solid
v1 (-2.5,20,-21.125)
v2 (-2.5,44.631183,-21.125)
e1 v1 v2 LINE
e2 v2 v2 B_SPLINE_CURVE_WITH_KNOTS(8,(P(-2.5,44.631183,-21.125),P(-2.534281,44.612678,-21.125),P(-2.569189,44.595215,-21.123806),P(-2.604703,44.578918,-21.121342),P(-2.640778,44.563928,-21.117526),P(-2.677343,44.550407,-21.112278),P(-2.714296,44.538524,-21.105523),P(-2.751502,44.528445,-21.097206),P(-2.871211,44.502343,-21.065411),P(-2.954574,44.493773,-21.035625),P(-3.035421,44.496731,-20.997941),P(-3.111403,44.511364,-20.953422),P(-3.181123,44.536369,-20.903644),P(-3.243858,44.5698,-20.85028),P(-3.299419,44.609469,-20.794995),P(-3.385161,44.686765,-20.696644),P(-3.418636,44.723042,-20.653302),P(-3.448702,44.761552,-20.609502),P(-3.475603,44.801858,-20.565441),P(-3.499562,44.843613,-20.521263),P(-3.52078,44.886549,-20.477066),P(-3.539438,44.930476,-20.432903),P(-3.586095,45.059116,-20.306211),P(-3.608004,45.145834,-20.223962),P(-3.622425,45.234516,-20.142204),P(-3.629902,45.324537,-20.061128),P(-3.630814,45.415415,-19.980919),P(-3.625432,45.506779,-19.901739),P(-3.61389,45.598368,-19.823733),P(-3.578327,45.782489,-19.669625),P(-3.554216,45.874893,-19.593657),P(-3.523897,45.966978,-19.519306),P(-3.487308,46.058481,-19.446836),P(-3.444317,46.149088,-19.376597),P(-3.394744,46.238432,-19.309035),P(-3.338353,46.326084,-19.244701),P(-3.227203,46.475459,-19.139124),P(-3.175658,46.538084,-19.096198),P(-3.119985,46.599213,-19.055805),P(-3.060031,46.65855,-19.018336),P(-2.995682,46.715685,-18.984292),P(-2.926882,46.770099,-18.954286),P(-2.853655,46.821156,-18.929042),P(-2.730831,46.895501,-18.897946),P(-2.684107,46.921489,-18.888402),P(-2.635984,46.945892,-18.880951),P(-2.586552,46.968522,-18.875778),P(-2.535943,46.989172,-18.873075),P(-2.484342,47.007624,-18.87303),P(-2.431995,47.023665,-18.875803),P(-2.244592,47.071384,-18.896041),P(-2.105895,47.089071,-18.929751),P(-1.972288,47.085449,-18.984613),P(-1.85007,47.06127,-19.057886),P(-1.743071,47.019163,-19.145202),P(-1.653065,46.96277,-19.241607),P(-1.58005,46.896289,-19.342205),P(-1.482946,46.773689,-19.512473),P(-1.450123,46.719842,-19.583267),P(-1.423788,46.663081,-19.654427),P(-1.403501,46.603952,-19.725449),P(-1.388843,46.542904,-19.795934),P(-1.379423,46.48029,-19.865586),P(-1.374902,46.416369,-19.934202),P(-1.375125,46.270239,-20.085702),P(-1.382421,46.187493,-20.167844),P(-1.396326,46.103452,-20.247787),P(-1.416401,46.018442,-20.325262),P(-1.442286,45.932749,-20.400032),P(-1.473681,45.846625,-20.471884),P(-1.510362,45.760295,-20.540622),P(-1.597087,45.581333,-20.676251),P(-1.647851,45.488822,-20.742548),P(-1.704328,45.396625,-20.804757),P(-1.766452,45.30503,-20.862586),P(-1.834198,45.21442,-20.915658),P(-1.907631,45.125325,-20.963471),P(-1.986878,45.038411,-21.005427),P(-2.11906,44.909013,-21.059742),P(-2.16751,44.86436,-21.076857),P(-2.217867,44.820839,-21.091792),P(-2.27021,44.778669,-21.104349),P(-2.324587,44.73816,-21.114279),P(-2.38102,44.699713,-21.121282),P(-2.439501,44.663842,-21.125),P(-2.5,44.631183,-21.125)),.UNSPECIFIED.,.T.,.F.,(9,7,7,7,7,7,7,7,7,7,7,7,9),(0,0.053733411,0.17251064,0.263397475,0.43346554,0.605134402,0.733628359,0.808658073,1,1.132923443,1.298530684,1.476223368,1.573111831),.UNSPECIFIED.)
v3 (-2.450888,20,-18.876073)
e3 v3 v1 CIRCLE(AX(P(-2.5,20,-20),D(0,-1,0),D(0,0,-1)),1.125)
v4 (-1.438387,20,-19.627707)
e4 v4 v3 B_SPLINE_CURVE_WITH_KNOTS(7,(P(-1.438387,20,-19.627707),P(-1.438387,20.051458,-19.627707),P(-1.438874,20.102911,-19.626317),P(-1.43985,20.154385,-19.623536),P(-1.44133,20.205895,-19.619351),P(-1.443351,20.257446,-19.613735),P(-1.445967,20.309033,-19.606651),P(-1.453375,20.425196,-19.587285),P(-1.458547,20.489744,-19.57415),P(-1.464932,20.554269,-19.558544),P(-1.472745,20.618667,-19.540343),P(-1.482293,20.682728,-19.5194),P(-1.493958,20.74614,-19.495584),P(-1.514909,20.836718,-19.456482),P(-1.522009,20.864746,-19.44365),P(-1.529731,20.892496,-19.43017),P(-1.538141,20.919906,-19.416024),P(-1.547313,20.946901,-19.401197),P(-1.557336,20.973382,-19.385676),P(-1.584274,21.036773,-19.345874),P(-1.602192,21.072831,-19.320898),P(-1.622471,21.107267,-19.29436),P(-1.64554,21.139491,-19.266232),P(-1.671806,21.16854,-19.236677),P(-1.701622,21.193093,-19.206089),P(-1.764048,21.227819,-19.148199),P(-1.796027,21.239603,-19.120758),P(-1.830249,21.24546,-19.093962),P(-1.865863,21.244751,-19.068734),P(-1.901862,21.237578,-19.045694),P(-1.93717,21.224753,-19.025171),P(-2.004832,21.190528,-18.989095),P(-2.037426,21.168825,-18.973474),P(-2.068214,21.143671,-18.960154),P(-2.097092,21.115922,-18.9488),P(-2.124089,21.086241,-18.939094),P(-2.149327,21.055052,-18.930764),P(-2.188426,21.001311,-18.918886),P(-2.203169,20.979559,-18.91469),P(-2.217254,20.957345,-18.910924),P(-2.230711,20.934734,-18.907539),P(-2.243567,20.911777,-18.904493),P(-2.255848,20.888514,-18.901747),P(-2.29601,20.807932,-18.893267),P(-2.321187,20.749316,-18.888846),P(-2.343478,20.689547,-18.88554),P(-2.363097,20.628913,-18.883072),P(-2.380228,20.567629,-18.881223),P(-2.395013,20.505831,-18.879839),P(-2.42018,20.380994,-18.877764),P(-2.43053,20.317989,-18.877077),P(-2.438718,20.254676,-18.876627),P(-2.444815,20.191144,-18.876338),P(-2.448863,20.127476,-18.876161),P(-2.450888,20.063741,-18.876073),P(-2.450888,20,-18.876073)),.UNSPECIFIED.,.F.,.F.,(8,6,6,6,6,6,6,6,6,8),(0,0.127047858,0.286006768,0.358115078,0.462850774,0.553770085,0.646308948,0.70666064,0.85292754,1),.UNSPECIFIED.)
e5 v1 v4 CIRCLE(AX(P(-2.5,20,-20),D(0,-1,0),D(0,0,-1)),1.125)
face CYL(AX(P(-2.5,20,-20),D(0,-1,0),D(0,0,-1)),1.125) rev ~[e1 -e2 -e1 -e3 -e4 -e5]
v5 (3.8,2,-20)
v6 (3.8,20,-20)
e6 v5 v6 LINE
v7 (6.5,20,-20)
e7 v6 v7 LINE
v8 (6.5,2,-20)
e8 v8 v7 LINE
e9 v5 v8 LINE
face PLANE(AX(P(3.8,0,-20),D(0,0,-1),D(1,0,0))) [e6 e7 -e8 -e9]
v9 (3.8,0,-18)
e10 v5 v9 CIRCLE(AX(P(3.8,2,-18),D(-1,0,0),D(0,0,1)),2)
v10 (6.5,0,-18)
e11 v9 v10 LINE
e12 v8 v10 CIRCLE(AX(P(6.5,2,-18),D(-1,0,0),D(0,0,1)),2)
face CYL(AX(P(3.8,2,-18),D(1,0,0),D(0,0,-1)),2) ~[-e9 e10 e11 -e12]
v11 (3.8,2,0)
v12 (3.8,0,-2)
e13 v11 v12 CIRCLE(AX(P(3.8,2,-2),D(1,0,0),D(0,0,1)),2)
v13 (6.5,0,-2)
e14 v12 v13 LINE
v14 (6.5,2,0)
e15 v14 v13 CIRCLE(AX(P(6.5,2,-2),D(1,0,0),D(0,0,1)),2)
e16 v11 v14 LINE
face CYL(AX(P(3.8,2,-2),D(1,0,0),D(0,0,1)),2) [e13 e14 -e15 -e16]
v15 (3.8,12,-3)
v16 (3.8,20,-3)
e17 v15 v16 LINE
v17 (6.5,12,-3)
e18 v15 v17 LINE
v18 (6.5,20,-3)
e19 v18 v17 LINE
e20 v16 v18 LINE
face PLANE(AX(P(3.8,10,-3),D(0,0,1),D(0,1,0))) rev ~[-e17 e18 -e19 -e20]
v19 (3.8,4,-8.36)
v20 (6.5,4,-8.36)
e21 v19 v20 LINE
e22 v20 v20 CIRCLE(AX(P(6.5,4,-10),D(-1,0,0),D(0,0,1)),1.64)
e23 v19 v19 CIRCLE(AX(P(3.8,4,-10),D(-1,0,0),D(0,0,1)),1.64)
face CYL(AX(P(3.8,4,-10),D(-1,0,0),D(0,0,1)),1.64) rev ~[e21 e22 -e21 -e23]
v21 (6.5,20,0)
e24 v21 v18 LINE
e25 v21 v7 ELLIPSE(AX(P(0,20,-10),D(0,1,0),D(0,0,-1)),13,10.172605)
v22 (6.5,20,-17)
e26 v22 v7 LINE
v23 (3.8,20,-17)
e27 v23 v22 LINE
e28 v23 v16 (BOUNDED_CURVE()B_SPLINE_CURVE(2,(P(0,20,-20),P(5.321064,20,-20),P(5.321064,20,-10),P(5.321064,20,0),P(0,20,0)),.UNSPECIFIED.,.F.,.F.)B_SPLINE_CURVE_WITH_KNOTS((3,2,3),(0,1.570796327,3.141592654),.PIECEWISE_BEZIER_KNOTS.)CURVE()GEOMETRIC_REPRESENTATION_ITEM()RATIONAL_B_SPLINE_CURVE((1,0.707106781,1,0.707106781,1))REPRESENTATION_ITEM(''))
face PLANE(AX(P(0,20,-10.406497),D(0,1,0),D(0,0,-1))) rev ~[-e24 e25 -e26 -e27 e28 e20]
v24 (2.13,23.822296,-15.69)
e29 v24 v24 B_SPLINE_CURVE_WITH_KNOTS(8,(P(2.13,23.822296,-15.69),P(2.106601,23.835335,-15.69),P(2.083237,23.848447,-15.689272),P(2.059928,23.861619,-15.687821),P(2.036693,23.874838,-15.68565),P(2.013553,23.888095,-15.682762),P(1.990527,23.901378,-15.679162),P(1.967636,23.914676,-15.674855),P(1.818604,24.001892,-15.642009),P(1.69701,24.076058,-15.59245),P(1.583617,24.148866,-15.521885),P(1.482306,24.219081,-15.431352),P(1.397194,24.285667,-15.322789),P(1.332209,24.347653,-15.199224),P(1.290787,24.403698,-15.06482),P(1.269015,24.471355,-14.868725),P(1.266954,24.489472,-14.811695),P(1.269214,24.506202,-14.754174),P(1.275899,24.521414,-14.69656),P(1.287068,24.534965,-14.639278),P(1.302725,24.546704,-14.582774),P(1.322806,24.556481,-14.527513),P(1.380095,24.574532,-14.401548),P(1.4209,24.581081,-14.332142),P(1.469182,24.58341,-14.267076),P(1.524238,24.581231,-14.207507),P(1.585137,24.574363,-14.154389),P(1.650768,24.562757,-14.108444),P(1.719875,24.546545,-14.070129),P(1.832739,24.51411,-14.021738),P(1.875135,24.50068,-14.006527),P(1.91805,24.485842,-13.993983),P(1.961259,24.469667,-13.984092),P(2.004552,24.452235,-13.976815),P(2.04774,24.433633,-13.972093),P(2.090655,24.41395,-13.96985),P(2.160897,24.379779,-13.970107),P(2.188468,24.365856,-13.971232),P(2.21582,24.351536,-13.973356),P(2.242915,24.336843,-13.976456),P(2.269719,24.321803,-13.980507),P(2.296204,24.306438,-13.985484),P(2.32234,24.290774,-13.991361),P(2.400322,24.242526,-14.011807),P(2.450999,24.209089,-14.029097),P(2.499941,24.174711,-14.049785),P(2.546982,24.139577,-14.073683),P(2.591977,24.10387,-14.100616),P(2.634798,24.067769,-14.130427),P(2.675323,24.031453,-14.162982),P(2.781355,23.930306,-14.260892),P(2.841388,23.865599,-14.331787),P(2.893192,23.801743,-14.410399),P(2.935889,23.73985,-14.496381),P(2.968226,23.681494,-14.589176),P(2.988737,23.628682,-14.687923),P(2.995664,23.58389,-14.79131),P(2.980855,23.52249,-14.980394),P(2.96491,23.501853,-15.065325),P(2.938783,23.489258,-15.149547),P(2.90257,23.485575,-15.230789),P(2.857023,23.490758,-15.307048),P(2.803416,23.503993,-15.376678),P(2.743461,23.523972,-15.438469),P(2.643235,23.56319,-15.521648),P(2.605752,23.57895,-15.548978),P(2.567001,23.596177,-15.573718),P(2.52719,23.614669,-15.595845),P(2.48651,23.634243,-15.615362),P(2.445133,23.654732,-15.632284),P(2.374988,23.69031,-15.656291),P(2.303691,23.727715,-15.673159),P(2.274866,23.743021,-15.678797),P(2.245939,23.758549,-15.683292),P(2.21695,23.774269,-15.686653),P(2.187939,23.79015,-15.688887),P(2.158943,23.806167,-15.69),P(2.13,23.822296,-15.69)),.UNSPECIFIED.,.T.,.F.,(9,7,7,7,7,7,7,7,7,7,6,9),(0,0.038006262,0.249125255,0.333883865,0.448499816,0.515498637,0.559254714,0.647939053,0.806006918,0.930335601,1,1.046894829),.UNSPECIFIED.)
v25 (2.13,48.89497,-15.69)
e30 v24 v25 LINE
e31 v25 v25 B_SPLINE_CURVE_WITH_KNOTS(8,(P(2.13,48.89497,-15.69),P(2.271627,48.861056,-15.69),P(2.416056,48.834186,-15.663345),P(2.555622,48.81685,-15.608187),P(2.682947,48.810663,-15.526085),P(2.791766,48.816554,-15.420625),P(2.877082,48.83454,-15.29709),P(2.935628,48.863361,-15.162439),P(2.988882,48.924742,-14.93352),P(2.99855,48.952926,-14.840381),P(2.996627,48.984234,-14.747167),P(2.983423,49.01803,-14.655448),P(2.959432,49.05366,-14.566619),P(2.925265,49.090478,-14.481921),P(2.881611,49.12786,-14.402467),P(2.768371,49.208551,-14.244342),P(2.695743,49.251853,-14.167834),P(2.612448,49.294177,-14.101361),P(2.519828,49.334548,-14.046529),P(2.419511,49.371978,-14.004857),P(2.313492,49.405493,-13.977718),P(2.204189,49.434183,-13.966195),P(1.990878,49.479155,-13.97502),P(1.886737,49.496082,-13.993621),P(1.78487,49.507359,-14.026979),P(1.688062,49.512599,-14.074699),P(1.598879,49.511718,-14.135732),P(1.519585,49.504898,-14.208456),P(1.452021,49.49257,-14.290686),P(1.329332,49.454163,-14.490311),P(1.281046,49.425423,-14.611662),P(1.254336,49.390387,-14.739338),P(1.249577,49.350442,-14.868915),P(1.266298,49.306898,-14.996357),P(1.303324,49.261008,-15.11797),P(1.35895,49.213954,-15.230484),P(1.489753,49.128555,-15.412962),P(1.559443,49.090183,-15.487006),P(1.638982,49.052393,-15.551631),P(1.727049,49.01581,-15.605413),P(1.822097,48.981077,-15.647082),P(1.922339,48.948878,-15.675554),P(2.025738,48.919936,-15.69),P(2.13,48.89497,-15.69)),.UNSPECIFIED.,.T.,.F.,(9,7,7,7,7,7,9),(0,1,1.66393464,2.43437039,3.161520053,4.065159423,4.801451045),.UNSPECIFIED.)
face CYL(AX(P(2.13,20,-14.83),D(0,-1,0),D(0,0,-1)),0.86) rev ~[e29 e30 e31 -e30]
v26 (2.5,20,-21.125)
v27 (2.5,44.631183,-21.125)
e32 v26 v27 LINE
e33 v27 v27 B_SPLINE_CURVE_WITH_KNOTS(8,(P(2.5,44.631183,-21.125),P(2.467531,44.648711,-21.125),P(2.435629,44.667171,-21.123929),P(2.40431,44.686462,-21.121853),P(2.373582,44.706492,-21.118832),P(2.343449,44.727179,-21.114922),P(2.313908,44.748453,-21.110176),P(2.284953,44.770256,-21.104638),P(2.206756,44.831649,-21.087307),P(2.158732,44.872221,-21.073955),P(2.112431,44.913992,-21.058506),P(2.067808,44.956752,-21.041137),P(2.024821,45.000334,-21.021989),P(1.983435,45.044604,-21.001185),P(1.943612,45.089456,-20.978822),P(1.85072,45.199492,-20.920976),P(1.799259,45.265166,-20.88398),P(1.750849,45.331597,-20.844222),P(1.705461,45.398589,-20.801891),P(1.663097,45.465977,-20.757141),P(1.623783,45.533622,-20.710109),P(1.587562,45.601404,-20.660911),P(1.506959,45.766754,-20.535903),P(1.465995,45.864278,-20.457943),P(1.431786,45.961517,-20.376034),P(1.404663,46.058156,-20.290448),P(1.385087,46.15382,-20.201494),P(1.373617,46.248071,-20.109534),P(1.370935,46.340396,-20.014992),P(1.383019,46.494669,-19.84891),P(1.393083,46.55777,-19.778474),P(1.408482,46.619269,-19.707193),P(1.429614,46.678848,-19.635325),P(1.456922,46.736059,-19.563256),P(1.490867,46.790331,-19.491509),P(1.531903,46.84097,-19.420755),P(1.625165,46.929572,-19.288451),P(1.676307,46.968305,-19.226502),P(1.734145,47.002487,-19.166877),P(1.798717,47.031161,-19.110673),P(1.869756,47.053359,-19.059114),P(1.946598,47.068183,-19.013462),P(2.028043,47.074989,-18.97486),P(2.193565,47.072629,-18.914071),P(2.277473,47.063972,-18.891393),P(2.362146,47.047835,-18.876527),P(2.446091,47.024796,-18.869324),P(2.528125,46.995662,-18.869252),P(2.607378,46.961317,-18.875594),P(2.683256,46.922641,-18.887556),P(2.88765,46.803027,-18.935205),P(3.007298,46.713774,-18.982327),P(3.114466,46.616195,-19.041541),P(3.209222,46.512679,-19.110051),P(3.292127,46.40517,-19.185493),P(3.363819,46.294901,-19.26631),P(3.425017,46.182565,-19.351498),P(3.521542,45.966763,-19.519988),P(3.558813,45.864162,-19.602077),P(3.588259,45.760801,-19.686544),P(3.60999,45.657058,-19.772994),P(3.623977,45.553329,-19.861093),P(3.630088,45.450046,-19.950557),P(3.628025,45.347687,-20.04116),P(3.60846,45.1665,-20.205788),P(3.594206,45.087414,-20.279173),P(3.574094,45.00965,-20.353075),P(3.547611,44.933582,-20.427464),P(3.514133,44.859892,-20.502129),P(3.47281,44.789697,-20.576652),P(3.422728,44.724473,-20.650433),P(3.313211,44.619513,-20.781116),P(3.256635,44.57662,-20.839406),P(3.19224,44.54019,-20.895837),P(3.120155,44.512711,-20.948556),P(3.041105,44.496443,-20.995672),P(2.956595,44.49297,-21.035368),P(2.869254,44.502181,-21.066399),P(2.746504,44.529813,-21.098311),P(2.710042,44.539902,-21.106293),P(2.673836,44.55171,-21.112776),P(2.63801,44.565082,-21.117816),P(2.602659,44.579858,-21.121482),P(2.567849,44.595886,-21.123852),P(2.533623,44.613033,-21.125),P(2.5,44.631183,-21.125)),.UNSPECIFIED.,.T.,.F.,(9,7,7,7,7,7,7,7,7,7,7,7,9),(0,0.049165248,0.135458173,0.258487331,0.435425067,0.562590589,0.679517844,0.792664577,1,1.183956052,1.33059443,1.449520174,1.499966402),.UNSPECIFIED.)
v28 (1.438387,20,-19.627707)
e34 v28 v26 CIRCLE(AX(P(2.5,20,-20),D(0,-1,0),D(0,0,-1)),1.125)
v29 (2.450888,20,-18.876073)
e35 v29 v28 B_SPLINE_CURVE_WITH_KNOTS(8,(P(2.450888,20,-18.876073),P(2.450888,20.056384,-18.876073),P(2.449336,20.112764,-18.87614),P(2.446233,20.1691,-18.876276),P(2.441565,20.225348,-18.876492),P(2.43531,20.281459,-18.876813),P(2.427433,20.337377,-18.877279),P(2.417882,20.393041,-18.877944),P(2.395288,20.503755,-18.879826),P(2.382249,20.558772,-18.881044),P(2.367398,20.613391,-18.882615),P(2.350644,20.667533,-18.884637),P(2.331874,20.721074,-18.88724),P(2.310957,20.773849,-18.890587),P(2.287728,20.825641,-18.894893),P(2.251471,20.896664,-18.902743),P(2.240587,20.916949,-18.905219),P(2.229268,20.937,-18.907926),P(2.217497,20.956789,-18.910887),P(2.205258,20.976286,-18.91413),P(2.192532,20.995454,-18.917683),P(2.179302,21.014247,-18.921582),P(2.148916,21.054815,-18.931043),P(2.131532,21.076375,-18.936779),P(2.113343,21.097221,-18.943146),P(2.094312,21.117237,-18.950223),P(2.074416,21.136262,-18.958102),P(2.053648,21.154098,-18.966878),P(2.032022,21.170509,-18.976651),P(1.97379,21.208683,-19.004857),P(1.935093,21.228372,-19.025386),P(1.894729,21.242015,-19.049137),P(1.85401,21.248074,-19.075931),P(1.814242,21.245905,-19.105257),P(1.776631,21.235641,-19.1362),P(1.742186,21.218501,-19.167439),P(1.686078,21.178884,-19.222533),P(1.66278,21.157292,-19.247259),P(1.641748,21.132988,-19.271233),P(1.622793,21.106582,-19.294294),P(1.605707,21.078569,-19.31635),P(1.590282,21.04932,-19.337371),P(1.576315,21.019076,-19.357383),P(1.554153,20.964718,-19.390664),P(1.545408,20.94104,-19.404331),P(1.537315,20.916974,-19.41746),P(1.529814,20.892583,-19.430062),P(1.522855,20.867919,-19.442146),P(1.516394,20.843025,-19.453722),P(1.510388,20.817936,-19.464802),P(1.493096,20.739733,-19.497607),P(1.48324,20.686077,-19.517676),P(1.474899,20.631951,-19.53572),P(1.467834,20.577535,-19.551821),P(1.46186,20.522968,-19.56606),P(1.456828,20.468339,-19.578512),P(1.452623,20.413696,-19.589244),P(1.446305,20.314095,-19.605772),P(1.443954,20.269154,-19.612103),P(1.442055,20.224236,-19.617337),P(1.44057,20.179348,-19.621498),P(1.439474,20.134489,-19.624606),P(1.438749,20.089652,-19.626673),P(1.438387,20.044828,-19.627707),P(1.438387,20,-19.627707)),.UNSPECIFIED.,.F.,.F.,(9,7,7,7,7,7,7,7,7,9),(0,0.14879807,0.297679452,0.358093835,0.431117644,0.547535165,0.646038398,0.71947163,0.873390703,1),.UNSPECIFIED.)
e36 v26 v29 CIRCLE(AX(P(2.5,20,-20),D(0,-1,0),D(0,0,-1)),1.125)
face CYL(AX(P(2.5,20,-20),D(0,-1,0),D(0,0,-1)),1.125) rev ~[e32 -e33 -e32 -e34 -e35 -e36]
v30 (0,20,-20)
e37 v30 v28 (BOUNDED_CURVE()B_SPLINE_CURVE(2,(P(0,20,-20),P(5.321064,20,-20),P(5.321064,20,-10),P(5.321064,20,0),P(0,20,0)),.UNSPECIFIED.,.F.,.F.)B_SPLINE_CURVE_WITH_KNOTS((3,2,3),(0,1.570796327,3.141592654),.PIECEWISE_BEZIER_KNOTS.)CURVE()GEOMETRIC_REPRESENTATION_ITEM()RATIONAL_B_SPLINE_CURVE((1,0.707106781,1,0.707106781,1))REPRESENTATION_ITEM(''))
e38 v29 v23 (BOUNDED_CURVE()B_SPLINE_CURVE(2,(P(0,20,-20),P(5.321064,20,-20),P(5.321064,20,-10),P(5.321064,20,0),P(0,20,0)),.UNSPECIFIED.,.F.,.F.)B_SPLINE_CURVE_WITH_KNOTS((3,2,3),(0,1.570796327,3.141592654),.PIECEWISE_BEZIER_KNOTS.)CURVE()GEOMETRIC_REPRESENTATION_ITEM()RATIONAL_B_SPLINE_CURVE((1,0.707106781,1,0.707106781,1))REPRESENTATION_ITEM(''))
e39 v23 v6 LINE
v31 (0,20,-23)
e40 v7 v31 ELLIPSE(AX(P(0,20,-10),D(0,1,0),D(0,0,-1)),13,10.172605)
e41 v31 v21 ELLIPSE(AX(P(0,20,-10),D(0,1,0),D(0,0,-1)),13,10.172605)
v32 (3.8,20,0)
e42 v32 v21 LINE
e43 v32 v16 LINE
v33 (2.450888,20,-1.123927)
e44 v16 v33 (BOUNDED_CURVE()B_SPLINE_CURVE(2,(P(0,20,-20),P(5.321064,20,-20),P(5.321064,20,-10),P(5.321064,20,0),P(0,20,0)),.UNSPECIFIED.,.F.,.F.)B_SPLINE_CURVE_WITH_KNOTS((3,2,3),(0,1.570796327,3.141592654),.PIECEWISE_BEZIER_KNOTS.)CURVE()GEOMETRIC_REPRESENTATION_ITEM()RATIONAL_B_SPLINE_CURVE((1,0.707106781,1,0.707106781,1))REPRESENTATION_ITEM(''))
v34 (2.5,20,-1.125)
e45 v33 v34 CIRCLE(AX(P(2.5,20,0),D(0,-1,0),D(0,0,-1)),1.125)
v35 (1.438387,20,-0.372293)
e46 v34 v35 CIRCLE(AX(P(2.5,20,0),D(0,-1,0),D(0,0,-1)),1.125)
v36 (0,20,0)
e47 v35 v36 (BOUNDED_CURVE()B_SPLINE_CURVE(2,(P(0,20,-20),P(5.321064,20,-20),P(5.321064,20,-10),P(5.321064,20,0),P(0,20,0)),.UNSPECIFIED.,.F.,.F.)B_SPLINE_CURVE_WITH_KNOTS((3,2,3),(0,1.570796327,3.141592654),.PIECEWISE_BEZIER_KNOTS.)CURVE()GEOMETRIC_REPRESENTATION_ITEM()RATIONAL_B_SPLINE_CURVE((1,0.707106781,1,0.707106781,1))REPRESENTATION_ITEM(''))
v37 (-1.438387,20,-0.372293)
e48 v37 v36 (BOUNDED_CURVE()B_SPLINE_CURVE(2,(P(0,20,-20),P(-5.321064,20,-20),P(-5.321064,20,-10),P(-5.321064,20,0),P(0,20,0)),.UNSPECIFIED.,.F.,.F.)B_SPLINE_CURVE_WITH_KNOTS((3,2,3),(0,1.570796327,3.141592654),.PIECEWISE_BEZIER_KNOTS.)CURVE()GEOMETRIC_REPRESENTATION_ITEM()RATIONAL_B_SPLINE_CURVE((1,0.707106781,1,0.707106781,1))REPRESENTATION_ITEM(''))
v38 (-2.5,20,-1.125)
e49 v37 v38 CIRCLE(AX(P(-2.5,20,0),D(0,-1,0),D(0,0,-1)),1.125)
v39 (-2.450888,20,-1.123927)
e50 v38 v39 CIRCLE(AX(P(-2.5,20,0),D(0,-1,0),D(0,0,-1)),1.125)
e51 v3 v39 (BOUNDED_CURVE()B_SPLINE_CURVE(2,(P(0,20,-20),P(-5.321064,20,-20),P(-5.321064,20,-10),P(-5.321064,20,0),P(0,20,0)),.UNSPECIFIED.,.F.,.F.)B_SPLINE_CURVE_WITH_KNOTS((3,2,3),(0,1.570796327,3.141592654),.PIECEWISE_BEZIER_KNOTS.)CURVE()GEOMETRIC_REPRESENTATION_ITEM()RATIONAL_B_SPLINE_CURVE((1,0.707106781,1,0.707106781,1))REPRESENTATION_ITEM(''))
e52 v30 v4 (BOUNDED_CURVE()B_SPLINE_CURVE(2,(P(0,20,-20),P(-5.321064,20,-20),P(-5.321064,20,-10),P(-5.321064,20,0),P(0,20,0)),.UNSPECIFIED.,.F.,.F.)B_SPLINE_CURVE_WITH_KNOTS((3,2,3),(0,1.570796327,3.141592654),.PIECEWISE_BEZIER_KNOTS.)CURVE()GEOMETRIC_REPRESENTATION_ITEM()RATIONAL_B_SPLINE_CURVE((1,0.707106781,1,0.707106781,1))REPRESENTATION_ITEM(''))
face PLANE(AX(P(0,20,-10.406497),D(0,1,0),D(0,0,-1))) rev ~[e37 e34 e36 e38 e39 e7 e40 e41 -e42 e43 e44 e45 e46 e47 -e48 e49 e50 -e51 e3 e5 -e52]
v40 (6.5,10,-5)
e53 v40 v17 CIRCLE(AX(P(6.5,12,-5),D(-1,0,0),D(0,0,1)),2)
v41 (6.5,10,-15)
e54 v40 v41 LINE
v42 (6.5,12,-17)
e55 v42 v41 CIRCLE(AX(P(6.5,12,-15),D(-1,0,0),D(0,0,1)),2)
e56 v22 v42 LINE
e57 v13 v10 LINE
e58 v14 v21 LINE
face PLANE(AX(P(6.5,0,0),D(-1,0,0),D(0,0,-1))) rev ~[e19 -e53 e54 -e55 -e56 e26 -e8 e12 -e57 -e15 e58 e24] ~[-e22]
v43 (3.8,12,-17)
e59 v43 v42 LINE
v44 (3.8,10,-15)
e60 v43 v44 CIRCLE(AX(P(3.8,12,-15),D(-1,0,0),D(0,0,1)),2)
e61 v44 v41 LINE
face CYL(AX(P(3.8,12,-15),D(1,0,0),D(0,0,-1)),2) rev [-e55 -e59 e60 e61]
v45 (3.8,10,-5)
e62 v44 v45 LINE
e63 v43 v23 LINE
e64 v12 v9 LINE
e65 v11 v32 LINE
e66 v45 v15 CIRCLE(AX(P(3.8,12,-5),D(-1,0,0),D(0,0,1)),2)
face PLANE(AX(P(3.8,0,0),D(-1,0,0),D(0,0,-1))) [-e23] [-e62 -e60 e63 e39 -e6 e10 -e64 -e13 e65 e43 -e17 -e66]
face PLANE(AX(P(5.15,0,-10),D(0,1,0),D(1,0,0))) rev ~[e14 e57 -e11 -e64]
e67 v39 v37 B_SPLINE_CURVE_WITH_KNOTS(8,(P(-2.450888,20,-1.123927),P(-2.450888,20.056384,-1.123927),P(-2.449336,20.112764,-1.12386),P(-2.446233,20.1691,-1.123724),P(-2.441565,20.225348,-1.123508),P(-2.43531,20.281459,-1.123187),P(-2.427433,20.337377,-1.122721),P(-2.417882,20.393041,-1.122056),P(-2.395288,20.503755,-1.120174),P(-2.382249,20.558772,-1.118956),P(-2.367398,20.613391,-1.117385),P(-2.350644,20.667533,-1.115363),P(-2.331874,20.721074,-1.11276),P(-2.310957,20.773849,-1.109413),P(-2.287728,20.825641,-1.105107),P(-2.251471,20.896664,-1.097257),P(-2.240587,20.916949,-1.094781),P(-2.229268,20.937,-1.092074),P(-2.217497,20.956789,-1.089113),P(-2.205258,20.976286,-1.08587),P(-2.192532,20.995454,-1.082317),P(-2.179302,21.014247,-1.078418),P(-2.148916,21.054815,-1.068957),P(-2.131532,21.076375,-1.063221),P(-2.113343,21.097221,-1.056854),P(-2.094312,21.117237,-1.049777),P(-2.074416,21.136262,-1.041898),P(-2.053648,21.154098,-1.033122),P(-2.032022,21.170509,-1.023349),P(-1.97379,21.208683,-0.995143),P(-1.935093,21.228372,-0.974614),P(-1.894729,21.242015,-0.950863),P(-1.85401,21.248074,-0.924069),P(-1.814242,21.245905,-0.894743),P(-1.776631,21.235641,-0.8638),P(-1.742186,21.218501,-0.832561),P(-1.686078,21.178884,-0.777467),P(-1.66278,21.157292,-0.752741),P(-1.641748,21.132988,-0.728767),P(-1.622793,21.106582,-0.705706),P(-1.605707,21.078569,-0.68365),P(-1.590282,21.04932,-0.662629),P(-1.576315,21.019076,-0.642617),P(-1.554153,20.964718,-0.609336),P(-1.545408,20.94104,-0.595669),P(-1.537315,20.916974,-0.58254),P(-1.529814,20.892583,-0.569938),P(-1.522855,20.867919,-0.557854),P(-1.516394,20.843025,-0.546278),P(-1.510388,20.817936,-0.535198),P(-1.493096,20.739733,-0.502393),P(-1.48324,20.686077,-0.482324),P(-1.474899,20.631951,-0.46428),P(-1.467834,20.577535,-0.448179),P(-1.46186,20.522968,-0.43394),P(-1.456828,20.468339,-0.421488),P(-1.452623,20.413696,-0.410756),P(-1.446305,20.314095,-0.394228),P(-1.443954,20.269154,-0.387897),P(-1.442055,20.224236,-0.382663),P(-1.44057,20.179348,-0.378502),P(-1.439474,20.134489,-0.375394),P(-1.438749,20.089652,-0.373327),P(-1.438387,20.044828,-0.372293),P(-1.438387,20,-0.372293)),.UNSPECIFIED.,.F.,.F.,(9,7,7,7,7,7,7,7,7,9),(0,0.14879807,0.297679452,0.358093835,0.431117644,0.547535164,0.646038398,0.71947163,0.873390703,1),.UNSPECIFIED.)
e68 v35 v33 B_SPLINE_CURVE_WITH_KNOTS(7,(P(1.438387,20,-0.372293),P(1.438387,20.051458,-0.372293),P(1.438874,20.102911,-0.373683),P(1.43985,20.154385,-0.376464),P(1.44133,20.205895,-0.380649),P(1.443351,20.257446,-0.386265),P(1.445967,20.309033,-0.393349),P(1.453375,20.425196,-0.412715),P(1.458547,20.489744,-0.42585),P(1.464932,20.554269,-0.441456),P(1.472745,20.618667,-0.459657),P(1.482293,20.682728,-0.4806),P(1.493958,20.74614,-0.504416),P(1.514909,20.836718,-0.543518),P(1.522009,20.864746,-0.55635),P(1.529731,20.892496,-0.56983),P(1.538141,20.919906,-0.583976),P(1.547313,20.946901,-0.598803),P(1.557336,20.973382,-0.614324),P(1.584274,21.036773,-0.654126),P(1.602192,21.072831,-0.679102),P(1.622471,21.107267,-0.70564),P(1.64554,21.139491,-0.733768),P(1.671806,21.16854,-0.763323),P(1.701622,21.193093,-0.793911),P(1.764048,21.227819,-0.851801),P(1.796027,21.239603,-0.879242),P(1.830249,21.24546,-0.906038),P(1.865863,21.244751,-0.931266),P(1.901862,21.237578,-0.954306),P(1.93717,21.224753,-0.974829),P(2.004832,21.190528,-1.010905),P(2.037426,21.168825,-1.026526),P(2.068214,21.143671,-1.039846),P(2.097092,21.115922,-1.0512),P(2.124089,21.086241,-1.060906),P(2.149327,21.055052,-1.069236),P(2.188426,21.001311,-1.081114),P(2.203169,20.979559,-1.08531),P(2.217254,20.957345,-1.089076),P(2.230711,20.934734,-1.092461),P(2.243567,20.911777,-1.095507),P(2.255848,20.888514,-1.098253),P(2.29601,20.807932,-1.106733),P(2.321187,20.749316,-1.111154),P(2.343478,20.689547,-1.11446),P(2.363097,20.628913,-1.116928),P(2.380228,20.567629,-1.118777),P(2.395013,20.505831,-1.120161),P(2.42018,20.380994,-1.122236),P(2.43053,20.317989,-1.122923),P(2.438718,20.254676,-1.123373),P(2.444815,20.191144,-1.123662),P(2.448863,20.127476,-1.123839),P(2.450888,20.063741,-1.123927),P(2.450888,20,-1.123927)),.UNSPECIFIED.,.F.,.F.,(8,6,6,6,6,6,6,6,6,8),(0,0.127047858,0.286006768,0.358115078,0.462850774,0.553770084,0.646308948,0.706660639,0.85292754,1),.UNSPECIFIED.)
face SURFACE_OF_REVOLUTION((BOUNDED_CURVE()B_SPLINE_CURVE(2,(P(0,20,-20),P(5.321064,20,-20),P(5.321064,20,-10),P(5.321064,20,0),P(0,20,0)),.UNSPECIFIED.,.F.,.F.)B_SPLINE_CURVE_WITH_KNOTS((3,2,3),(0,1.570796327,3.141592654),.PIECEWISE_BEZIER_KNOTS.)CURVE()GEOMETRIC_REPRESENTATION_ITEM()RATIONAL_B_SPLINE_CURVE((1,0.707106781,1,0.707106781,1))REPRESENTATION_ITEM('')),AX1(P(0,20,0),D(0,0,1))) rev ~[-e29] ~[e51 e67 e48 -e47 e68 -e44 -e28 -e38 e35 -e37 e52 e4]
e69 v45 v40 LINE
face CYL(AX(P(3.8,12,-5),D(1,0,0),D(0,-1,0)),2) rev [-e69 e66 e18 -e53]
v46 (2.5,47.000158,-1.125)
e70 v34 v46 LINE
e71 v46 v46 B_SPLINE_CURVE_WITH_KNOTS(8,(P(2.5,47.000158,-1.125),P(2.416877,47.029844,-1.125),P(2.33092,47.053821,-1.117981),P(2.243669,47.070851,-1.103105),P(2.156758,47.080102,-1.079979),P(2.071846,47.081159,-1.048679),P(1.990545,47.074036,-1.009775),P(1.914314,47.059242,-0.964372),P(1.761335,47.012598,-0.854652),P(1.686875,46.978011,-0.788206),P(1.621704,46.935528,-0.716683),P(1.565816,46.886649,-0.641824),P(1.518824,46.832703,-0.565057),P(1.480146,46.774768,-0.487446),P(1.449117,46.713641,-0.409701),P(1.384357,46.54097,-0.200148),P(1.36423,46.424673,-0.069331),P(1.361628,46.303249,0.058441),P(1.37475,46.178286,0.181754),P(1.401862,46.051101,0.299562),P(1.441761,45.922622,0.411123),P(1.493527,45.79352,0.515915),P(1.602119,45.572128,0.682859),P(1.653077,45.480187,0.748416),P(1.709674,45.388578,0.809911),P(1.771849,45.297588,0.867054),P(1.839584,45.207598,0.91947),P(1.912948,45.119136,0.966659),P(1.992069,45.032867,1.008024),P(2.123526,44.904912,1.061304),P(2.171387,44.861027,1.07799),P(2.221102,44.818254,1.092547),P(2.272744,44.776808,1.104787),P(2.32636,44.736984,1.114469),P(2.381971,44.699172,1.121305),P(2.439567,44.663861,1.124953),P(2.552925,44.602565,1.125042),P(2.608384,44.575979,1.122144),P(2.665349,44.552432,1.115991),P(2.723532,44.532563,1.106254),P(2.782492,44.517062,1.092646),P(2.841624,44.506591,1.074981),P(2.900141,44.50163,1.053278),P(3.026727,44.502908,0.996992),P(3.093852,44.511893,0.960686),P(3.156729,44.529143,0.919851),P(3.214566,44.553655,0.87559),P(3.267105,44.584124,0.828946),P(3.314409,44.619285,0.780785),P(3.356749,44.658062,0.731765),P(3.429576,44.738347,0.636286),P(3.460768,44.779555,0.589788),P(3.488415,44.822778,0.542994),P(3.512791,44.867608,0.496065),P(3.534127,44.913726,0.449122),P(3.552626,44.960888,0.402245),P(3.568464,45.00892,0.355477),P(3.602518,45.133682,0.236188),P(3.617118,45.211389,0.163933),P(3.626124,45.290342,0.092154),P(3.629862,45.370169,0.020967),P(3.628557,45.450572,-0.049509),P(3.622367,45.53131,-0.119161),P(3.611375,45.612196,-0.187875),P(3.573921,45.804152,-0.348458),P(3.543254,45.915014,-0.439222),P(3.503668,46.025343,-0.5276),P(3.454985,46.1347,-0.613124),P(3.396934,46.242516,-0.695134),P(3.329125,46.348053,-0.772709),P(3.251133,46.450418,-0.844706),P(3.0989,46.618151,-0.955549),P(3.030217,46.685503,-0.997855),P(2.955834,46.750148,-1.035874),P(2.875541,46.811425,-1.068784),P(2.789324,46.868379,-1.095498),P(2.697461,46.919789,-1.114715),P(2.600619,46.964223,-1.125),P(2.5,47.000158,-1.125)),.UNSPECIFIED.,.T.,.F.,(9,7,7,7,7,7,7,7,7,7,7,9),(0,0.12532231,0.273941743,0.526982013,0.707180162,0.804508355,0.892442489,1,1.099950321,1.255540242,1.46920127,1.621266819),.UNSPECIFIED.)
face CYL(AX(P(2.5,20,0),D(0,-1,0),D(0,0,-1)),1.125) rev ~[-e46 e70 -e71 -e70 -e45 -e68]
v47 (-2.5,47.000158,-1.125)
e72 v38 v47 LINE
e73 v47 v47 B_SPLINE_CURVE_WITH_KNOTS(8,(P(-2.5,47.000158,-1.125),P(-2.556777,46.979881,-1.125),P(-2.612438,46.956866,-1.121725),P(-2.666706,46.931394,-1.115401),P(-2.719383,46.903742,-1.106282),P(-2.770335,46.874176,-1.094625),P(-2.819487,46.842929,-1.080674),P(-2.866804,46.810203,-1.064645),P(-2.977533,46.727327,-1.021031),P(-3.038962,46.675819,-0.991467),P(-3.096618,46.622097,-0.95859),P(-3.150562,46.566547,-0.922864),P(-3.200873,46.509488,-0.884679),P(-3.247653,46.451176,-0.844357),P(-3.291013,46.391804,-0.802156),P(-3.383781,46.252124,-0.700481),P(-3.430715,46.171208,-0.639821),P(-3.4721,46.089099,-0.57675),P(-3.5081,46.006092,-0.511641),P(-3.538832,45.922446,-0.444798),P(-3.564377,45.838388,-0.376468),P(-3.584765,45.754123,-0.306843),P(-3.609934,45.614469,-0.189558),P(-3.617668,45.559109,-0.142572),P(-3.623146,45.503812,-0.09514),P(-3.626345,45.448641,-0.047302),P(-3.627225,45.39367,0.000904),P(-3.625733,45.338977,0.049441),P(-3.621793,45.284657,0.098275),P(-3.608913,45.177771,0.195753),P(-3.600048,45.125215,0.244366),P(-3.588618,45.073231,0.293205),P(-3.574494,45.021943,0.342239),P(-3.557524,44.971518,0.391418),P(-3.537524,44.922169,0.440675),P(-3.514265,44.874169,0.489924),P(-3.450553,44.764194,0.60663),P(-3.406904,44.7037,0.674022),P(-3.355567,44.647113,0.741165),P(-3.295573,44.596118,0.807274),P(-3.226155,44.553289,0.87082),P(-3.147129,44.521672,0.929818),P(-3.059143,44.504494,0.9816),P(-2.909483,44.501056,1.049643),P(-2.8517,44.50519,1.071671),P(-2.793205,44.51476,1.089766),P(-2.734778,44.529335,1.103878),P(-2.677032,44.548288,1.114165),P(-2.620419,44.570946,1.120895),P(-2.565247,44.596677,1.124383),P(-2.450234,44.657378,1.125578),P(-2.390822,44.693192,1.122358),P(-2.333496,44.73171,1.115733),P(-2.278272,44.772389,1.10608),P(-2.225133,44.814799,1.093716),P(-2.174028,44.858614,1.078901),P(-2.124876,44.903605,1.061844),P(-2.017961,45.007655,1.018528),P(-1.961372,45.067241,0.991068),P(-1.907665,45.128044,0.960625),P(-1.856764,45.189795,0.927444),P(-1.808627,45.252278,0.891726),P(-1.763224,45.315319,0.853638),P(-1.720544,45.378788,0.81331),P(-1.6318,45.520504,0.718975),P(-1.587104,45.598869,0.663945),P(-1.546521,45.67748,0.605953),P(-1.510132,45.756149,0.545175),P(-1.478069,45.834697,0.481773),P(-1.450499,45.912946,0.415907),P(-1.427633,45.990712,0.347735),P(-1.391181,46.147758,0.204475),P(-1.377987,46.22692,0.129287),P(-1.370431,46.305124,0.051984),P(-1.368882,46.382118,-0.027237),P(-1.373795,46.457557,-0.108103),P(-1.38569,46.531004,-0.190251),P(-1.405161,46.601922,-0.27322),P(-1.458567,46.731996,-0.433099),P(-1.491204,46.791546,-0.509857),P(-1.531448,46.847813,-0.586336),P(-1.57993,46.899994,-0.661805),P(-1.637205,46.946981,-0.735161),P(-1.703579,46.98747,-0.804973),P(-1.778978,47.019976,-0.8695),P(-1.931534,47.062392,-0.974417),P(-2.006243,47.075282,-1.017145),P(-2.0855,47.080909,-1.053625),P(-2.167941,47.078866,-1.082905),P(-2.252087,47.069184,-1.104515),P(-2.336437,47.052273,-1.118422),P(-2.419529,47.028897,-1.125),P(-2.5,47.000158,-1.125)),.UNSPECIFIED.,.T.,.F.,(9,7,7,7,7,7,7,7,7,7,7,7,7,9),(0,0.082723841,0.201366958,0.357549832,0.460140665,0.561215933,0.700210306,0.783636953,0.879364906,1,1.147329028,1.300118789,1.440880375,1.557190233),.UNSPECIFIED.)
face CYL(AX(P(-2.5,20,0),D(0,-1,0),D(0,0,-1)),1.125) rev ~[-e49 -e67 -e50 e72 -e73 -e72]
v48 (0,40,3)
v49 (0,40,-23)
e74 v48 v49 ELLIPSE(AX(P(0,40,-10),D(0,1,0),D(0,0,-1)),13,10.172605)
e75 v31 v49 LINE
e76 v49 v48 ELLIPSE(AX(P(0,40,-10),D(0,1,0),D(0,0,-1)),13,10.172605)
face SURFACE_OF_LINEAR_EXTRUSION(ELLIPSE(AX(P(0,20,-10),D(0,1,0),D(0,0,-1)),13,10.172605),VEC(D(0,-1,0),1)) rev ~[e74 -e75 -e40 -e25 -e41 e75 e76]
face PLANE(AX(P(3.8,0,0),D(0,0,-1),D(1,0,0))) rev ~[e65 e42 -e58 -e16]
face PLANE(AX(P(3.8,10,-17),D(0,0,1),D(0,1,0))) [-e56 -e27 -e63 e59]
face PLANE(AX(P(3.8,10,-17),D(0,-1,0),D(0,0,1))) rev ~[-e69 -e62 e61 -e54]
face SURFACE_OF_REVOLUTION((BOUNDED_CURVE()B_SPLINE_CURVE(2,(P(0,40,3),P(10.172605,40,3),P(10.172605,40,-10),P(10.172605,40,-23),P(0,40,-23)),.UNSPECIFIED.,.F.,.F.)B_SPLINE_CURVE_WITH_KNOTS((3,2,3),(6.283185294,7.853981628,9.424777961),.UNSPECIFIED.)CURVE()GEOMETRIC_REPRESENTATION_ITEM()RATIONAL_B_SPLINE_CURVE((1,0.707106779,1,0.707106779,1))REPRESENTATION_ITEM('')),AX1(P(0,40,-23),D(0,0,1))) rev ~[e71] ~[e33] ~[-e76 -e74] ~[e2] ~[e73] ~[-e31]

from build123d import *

# Parameters (mm, degrees)
SKETCH1_W           = 2.7
SKETCH1_H           = 20
BOSS_EXTRUDE1_DEPTH = 20
SKETCH4_RX          = 13
SKETCH4_RY          = 10.172604586
BOSS_EXTRUDE2_DEPTH = 20
REVOLVE1_ANGLE      = 180
CUT_EXTRUDE1_REACH  = 58.934
SKETCH6_R           = 1.64
SKETCH6_W           = 14
SKETCH6_H           = 10
FILLET1_R           = 2
CUT_REVOLVE5_ANGLE  = 180
SKETCH11_R          = 0.86
SKETCH11_R_2        = 1.125
CUT_EXTRUDE5_DEPTH  = 29.98707334


with BuildPart() as part:
    # Sketch1 → Boss-Extrude1 (new body)
    with BuildSketch(Plane(origin=(0, 0, 0), x_dir=(1, 0, 0), z_dir=(0, 1, 0))):
        with Locations((5.15, 10)):
            Rectangle(SKETCH1_W, SKETCH1_H)
    extrude(amount=BOSS_EXTRUDE1_DEPTH)

    # Sketch4 → Boss-Extrude2 (add)
    with BuildSketch(Plane(origin=(0, 20, 0), x_dir=(1, 0, 0), z_dir=(0, 1, 0))):
        with Locations(Location((0, 10), (0, 0, 90))):
            Ellipse(SKETCH4_RX, SKETCH4_RY)
    extrude(amount=BOSS_EXTRUDE2_DEPTH)

    # Sketch5 → Revolve1 (revolve)
    with BuildSketch(Plane(origin=(0, 40, 0), x_dir=(1, 0, 0), z_dir=(0, 1, 0))):
        with BuildLine():
            Line((0, 23), (0, -3))
            add(Edge.make_bspline(
                [(0, -3), (10.172604586, -3.000000114), (10.172604586, 9.999999968), (10.172604586, 23.00000005), (0, 23)],
                knots=[6.283185294, 6.283185294, 6.283185294, 7.853981628, 7.853981628, 9.424777961, 9.424777961, 9.424777961], degree=2, weights=[1, 0.707106779, 1, 0.707106779, 1]))
        make_face()
    revolve(axis=Axis((0, 40, -23), (0, 0, 1)), revolution_arc=REVOLVE1_ANGLE)

    # Sketch6 → Cut-Extrude1 (cut, up to next)
    with BuildSketch(Plane.ZY.offset(-3.8), mode=Mode.PRIVATE) as cut_extrude1_sk1:
        with Locations((-10, 4)):
            Circle(SKETCH6_R)
    cut_extrude1_tool1 = extrude(cut_extrude1_sk1.sketch, amount=-CUT_EXTRUDE1_REACH, mode=Mode.PRIVATE) & part.part
    # Sketch6 → Cut-Extrude1 (cut, up to next)
    with BuildSketch(Plane.ZY.offset(-3.8), mode=Mode.PRIVATE) as cut_extrude1_sk2:
        with Locations((-10, 15)):
            Rectangle(SKETCH6_W, SKETCH6_H)
    cut_extrude1_tool2 = extrude(cut_extrude1_sk2.sketch, amount=-CUT_EXTRUDE1_REACH, mode=Mode.PRIVATE) & part.part
    add(cut_extrude1_tool1.solids().sort_by_distance((3.8, 4, -10))[0], mode=Mode.SUBTRACT)
    add(cut_extrude1_tool2.solids().sort_by_distance((3.8, 15, -10))[0], mode=Mode.SUBTRACT)

    # Fillet1
    fillet1_edges = [part.edges().sort_by_distance(p)[0] for p in [
        (5.15, 10, -17),
        (5.15, 10, -3),
        (5.15, 0, -20),
        (5.15, 0, 0),
    ]]
    fillet(fillet1_edges, radius=FILLET1_R)

    # Sketch10 → Cut-Revolve5 (revolve, cut)
    with BuildSketch(Plane.XZ.offset(-20)):
        with BuildLine():
            Line((0, 0), (0, -20))
            add(Edge.make_bspline(
                [(0, -20), (5.321064319, -20), (5.321064319, -10), (5.321064319, 0), (0, 0)],
                knots=[0, 0, 0, 1.570796327, 1.570796327, 3.141592654, 3.141592654, 3.141592654], degree=2, weights=[1, 0.707106781, 1, 0.707106781, 1]))
        make_face()
    revolve(axis=Axis((0, 20, 0), (0, 0, 1)), revolution_arc=CUT_REVOLVE5_ANGLE, mode=Mode.SUBTRACT)

    # Sketch11 → Cut-Extrude5 (cut)
    with BuildSketch(Plane(origin=(0, 20, 0), x_dir=(-1, 0, 0), z_dir=(0, -1, 0))):
        with Locations(Location((-2.13, 14.83, 0), (0, 0, 90))):
            Circle(SKETCH11_R)
        with Locations(Location((-2.5, 20, 0), (0, 0, 90))):
            Circle(SKETCH11_R_2)
        with Locations(Location((2.5, 20, 0), (0, 0, 90))):
            Circle(SKETCH11_R_2)
        with Locations(Location((-2.5, 0, 0), (0, 0, 90))):
            Circle(SKETCH11_R_2)
        with Locations(Location((2.5, 0, 0), (0, 0, 90))):
            Circle(SKETCH11_R_2)
    extrude(amount=-CUT_EXTRUDE5_DEPTH, mode=Mode.SUBTRACT)


solid = part.part
